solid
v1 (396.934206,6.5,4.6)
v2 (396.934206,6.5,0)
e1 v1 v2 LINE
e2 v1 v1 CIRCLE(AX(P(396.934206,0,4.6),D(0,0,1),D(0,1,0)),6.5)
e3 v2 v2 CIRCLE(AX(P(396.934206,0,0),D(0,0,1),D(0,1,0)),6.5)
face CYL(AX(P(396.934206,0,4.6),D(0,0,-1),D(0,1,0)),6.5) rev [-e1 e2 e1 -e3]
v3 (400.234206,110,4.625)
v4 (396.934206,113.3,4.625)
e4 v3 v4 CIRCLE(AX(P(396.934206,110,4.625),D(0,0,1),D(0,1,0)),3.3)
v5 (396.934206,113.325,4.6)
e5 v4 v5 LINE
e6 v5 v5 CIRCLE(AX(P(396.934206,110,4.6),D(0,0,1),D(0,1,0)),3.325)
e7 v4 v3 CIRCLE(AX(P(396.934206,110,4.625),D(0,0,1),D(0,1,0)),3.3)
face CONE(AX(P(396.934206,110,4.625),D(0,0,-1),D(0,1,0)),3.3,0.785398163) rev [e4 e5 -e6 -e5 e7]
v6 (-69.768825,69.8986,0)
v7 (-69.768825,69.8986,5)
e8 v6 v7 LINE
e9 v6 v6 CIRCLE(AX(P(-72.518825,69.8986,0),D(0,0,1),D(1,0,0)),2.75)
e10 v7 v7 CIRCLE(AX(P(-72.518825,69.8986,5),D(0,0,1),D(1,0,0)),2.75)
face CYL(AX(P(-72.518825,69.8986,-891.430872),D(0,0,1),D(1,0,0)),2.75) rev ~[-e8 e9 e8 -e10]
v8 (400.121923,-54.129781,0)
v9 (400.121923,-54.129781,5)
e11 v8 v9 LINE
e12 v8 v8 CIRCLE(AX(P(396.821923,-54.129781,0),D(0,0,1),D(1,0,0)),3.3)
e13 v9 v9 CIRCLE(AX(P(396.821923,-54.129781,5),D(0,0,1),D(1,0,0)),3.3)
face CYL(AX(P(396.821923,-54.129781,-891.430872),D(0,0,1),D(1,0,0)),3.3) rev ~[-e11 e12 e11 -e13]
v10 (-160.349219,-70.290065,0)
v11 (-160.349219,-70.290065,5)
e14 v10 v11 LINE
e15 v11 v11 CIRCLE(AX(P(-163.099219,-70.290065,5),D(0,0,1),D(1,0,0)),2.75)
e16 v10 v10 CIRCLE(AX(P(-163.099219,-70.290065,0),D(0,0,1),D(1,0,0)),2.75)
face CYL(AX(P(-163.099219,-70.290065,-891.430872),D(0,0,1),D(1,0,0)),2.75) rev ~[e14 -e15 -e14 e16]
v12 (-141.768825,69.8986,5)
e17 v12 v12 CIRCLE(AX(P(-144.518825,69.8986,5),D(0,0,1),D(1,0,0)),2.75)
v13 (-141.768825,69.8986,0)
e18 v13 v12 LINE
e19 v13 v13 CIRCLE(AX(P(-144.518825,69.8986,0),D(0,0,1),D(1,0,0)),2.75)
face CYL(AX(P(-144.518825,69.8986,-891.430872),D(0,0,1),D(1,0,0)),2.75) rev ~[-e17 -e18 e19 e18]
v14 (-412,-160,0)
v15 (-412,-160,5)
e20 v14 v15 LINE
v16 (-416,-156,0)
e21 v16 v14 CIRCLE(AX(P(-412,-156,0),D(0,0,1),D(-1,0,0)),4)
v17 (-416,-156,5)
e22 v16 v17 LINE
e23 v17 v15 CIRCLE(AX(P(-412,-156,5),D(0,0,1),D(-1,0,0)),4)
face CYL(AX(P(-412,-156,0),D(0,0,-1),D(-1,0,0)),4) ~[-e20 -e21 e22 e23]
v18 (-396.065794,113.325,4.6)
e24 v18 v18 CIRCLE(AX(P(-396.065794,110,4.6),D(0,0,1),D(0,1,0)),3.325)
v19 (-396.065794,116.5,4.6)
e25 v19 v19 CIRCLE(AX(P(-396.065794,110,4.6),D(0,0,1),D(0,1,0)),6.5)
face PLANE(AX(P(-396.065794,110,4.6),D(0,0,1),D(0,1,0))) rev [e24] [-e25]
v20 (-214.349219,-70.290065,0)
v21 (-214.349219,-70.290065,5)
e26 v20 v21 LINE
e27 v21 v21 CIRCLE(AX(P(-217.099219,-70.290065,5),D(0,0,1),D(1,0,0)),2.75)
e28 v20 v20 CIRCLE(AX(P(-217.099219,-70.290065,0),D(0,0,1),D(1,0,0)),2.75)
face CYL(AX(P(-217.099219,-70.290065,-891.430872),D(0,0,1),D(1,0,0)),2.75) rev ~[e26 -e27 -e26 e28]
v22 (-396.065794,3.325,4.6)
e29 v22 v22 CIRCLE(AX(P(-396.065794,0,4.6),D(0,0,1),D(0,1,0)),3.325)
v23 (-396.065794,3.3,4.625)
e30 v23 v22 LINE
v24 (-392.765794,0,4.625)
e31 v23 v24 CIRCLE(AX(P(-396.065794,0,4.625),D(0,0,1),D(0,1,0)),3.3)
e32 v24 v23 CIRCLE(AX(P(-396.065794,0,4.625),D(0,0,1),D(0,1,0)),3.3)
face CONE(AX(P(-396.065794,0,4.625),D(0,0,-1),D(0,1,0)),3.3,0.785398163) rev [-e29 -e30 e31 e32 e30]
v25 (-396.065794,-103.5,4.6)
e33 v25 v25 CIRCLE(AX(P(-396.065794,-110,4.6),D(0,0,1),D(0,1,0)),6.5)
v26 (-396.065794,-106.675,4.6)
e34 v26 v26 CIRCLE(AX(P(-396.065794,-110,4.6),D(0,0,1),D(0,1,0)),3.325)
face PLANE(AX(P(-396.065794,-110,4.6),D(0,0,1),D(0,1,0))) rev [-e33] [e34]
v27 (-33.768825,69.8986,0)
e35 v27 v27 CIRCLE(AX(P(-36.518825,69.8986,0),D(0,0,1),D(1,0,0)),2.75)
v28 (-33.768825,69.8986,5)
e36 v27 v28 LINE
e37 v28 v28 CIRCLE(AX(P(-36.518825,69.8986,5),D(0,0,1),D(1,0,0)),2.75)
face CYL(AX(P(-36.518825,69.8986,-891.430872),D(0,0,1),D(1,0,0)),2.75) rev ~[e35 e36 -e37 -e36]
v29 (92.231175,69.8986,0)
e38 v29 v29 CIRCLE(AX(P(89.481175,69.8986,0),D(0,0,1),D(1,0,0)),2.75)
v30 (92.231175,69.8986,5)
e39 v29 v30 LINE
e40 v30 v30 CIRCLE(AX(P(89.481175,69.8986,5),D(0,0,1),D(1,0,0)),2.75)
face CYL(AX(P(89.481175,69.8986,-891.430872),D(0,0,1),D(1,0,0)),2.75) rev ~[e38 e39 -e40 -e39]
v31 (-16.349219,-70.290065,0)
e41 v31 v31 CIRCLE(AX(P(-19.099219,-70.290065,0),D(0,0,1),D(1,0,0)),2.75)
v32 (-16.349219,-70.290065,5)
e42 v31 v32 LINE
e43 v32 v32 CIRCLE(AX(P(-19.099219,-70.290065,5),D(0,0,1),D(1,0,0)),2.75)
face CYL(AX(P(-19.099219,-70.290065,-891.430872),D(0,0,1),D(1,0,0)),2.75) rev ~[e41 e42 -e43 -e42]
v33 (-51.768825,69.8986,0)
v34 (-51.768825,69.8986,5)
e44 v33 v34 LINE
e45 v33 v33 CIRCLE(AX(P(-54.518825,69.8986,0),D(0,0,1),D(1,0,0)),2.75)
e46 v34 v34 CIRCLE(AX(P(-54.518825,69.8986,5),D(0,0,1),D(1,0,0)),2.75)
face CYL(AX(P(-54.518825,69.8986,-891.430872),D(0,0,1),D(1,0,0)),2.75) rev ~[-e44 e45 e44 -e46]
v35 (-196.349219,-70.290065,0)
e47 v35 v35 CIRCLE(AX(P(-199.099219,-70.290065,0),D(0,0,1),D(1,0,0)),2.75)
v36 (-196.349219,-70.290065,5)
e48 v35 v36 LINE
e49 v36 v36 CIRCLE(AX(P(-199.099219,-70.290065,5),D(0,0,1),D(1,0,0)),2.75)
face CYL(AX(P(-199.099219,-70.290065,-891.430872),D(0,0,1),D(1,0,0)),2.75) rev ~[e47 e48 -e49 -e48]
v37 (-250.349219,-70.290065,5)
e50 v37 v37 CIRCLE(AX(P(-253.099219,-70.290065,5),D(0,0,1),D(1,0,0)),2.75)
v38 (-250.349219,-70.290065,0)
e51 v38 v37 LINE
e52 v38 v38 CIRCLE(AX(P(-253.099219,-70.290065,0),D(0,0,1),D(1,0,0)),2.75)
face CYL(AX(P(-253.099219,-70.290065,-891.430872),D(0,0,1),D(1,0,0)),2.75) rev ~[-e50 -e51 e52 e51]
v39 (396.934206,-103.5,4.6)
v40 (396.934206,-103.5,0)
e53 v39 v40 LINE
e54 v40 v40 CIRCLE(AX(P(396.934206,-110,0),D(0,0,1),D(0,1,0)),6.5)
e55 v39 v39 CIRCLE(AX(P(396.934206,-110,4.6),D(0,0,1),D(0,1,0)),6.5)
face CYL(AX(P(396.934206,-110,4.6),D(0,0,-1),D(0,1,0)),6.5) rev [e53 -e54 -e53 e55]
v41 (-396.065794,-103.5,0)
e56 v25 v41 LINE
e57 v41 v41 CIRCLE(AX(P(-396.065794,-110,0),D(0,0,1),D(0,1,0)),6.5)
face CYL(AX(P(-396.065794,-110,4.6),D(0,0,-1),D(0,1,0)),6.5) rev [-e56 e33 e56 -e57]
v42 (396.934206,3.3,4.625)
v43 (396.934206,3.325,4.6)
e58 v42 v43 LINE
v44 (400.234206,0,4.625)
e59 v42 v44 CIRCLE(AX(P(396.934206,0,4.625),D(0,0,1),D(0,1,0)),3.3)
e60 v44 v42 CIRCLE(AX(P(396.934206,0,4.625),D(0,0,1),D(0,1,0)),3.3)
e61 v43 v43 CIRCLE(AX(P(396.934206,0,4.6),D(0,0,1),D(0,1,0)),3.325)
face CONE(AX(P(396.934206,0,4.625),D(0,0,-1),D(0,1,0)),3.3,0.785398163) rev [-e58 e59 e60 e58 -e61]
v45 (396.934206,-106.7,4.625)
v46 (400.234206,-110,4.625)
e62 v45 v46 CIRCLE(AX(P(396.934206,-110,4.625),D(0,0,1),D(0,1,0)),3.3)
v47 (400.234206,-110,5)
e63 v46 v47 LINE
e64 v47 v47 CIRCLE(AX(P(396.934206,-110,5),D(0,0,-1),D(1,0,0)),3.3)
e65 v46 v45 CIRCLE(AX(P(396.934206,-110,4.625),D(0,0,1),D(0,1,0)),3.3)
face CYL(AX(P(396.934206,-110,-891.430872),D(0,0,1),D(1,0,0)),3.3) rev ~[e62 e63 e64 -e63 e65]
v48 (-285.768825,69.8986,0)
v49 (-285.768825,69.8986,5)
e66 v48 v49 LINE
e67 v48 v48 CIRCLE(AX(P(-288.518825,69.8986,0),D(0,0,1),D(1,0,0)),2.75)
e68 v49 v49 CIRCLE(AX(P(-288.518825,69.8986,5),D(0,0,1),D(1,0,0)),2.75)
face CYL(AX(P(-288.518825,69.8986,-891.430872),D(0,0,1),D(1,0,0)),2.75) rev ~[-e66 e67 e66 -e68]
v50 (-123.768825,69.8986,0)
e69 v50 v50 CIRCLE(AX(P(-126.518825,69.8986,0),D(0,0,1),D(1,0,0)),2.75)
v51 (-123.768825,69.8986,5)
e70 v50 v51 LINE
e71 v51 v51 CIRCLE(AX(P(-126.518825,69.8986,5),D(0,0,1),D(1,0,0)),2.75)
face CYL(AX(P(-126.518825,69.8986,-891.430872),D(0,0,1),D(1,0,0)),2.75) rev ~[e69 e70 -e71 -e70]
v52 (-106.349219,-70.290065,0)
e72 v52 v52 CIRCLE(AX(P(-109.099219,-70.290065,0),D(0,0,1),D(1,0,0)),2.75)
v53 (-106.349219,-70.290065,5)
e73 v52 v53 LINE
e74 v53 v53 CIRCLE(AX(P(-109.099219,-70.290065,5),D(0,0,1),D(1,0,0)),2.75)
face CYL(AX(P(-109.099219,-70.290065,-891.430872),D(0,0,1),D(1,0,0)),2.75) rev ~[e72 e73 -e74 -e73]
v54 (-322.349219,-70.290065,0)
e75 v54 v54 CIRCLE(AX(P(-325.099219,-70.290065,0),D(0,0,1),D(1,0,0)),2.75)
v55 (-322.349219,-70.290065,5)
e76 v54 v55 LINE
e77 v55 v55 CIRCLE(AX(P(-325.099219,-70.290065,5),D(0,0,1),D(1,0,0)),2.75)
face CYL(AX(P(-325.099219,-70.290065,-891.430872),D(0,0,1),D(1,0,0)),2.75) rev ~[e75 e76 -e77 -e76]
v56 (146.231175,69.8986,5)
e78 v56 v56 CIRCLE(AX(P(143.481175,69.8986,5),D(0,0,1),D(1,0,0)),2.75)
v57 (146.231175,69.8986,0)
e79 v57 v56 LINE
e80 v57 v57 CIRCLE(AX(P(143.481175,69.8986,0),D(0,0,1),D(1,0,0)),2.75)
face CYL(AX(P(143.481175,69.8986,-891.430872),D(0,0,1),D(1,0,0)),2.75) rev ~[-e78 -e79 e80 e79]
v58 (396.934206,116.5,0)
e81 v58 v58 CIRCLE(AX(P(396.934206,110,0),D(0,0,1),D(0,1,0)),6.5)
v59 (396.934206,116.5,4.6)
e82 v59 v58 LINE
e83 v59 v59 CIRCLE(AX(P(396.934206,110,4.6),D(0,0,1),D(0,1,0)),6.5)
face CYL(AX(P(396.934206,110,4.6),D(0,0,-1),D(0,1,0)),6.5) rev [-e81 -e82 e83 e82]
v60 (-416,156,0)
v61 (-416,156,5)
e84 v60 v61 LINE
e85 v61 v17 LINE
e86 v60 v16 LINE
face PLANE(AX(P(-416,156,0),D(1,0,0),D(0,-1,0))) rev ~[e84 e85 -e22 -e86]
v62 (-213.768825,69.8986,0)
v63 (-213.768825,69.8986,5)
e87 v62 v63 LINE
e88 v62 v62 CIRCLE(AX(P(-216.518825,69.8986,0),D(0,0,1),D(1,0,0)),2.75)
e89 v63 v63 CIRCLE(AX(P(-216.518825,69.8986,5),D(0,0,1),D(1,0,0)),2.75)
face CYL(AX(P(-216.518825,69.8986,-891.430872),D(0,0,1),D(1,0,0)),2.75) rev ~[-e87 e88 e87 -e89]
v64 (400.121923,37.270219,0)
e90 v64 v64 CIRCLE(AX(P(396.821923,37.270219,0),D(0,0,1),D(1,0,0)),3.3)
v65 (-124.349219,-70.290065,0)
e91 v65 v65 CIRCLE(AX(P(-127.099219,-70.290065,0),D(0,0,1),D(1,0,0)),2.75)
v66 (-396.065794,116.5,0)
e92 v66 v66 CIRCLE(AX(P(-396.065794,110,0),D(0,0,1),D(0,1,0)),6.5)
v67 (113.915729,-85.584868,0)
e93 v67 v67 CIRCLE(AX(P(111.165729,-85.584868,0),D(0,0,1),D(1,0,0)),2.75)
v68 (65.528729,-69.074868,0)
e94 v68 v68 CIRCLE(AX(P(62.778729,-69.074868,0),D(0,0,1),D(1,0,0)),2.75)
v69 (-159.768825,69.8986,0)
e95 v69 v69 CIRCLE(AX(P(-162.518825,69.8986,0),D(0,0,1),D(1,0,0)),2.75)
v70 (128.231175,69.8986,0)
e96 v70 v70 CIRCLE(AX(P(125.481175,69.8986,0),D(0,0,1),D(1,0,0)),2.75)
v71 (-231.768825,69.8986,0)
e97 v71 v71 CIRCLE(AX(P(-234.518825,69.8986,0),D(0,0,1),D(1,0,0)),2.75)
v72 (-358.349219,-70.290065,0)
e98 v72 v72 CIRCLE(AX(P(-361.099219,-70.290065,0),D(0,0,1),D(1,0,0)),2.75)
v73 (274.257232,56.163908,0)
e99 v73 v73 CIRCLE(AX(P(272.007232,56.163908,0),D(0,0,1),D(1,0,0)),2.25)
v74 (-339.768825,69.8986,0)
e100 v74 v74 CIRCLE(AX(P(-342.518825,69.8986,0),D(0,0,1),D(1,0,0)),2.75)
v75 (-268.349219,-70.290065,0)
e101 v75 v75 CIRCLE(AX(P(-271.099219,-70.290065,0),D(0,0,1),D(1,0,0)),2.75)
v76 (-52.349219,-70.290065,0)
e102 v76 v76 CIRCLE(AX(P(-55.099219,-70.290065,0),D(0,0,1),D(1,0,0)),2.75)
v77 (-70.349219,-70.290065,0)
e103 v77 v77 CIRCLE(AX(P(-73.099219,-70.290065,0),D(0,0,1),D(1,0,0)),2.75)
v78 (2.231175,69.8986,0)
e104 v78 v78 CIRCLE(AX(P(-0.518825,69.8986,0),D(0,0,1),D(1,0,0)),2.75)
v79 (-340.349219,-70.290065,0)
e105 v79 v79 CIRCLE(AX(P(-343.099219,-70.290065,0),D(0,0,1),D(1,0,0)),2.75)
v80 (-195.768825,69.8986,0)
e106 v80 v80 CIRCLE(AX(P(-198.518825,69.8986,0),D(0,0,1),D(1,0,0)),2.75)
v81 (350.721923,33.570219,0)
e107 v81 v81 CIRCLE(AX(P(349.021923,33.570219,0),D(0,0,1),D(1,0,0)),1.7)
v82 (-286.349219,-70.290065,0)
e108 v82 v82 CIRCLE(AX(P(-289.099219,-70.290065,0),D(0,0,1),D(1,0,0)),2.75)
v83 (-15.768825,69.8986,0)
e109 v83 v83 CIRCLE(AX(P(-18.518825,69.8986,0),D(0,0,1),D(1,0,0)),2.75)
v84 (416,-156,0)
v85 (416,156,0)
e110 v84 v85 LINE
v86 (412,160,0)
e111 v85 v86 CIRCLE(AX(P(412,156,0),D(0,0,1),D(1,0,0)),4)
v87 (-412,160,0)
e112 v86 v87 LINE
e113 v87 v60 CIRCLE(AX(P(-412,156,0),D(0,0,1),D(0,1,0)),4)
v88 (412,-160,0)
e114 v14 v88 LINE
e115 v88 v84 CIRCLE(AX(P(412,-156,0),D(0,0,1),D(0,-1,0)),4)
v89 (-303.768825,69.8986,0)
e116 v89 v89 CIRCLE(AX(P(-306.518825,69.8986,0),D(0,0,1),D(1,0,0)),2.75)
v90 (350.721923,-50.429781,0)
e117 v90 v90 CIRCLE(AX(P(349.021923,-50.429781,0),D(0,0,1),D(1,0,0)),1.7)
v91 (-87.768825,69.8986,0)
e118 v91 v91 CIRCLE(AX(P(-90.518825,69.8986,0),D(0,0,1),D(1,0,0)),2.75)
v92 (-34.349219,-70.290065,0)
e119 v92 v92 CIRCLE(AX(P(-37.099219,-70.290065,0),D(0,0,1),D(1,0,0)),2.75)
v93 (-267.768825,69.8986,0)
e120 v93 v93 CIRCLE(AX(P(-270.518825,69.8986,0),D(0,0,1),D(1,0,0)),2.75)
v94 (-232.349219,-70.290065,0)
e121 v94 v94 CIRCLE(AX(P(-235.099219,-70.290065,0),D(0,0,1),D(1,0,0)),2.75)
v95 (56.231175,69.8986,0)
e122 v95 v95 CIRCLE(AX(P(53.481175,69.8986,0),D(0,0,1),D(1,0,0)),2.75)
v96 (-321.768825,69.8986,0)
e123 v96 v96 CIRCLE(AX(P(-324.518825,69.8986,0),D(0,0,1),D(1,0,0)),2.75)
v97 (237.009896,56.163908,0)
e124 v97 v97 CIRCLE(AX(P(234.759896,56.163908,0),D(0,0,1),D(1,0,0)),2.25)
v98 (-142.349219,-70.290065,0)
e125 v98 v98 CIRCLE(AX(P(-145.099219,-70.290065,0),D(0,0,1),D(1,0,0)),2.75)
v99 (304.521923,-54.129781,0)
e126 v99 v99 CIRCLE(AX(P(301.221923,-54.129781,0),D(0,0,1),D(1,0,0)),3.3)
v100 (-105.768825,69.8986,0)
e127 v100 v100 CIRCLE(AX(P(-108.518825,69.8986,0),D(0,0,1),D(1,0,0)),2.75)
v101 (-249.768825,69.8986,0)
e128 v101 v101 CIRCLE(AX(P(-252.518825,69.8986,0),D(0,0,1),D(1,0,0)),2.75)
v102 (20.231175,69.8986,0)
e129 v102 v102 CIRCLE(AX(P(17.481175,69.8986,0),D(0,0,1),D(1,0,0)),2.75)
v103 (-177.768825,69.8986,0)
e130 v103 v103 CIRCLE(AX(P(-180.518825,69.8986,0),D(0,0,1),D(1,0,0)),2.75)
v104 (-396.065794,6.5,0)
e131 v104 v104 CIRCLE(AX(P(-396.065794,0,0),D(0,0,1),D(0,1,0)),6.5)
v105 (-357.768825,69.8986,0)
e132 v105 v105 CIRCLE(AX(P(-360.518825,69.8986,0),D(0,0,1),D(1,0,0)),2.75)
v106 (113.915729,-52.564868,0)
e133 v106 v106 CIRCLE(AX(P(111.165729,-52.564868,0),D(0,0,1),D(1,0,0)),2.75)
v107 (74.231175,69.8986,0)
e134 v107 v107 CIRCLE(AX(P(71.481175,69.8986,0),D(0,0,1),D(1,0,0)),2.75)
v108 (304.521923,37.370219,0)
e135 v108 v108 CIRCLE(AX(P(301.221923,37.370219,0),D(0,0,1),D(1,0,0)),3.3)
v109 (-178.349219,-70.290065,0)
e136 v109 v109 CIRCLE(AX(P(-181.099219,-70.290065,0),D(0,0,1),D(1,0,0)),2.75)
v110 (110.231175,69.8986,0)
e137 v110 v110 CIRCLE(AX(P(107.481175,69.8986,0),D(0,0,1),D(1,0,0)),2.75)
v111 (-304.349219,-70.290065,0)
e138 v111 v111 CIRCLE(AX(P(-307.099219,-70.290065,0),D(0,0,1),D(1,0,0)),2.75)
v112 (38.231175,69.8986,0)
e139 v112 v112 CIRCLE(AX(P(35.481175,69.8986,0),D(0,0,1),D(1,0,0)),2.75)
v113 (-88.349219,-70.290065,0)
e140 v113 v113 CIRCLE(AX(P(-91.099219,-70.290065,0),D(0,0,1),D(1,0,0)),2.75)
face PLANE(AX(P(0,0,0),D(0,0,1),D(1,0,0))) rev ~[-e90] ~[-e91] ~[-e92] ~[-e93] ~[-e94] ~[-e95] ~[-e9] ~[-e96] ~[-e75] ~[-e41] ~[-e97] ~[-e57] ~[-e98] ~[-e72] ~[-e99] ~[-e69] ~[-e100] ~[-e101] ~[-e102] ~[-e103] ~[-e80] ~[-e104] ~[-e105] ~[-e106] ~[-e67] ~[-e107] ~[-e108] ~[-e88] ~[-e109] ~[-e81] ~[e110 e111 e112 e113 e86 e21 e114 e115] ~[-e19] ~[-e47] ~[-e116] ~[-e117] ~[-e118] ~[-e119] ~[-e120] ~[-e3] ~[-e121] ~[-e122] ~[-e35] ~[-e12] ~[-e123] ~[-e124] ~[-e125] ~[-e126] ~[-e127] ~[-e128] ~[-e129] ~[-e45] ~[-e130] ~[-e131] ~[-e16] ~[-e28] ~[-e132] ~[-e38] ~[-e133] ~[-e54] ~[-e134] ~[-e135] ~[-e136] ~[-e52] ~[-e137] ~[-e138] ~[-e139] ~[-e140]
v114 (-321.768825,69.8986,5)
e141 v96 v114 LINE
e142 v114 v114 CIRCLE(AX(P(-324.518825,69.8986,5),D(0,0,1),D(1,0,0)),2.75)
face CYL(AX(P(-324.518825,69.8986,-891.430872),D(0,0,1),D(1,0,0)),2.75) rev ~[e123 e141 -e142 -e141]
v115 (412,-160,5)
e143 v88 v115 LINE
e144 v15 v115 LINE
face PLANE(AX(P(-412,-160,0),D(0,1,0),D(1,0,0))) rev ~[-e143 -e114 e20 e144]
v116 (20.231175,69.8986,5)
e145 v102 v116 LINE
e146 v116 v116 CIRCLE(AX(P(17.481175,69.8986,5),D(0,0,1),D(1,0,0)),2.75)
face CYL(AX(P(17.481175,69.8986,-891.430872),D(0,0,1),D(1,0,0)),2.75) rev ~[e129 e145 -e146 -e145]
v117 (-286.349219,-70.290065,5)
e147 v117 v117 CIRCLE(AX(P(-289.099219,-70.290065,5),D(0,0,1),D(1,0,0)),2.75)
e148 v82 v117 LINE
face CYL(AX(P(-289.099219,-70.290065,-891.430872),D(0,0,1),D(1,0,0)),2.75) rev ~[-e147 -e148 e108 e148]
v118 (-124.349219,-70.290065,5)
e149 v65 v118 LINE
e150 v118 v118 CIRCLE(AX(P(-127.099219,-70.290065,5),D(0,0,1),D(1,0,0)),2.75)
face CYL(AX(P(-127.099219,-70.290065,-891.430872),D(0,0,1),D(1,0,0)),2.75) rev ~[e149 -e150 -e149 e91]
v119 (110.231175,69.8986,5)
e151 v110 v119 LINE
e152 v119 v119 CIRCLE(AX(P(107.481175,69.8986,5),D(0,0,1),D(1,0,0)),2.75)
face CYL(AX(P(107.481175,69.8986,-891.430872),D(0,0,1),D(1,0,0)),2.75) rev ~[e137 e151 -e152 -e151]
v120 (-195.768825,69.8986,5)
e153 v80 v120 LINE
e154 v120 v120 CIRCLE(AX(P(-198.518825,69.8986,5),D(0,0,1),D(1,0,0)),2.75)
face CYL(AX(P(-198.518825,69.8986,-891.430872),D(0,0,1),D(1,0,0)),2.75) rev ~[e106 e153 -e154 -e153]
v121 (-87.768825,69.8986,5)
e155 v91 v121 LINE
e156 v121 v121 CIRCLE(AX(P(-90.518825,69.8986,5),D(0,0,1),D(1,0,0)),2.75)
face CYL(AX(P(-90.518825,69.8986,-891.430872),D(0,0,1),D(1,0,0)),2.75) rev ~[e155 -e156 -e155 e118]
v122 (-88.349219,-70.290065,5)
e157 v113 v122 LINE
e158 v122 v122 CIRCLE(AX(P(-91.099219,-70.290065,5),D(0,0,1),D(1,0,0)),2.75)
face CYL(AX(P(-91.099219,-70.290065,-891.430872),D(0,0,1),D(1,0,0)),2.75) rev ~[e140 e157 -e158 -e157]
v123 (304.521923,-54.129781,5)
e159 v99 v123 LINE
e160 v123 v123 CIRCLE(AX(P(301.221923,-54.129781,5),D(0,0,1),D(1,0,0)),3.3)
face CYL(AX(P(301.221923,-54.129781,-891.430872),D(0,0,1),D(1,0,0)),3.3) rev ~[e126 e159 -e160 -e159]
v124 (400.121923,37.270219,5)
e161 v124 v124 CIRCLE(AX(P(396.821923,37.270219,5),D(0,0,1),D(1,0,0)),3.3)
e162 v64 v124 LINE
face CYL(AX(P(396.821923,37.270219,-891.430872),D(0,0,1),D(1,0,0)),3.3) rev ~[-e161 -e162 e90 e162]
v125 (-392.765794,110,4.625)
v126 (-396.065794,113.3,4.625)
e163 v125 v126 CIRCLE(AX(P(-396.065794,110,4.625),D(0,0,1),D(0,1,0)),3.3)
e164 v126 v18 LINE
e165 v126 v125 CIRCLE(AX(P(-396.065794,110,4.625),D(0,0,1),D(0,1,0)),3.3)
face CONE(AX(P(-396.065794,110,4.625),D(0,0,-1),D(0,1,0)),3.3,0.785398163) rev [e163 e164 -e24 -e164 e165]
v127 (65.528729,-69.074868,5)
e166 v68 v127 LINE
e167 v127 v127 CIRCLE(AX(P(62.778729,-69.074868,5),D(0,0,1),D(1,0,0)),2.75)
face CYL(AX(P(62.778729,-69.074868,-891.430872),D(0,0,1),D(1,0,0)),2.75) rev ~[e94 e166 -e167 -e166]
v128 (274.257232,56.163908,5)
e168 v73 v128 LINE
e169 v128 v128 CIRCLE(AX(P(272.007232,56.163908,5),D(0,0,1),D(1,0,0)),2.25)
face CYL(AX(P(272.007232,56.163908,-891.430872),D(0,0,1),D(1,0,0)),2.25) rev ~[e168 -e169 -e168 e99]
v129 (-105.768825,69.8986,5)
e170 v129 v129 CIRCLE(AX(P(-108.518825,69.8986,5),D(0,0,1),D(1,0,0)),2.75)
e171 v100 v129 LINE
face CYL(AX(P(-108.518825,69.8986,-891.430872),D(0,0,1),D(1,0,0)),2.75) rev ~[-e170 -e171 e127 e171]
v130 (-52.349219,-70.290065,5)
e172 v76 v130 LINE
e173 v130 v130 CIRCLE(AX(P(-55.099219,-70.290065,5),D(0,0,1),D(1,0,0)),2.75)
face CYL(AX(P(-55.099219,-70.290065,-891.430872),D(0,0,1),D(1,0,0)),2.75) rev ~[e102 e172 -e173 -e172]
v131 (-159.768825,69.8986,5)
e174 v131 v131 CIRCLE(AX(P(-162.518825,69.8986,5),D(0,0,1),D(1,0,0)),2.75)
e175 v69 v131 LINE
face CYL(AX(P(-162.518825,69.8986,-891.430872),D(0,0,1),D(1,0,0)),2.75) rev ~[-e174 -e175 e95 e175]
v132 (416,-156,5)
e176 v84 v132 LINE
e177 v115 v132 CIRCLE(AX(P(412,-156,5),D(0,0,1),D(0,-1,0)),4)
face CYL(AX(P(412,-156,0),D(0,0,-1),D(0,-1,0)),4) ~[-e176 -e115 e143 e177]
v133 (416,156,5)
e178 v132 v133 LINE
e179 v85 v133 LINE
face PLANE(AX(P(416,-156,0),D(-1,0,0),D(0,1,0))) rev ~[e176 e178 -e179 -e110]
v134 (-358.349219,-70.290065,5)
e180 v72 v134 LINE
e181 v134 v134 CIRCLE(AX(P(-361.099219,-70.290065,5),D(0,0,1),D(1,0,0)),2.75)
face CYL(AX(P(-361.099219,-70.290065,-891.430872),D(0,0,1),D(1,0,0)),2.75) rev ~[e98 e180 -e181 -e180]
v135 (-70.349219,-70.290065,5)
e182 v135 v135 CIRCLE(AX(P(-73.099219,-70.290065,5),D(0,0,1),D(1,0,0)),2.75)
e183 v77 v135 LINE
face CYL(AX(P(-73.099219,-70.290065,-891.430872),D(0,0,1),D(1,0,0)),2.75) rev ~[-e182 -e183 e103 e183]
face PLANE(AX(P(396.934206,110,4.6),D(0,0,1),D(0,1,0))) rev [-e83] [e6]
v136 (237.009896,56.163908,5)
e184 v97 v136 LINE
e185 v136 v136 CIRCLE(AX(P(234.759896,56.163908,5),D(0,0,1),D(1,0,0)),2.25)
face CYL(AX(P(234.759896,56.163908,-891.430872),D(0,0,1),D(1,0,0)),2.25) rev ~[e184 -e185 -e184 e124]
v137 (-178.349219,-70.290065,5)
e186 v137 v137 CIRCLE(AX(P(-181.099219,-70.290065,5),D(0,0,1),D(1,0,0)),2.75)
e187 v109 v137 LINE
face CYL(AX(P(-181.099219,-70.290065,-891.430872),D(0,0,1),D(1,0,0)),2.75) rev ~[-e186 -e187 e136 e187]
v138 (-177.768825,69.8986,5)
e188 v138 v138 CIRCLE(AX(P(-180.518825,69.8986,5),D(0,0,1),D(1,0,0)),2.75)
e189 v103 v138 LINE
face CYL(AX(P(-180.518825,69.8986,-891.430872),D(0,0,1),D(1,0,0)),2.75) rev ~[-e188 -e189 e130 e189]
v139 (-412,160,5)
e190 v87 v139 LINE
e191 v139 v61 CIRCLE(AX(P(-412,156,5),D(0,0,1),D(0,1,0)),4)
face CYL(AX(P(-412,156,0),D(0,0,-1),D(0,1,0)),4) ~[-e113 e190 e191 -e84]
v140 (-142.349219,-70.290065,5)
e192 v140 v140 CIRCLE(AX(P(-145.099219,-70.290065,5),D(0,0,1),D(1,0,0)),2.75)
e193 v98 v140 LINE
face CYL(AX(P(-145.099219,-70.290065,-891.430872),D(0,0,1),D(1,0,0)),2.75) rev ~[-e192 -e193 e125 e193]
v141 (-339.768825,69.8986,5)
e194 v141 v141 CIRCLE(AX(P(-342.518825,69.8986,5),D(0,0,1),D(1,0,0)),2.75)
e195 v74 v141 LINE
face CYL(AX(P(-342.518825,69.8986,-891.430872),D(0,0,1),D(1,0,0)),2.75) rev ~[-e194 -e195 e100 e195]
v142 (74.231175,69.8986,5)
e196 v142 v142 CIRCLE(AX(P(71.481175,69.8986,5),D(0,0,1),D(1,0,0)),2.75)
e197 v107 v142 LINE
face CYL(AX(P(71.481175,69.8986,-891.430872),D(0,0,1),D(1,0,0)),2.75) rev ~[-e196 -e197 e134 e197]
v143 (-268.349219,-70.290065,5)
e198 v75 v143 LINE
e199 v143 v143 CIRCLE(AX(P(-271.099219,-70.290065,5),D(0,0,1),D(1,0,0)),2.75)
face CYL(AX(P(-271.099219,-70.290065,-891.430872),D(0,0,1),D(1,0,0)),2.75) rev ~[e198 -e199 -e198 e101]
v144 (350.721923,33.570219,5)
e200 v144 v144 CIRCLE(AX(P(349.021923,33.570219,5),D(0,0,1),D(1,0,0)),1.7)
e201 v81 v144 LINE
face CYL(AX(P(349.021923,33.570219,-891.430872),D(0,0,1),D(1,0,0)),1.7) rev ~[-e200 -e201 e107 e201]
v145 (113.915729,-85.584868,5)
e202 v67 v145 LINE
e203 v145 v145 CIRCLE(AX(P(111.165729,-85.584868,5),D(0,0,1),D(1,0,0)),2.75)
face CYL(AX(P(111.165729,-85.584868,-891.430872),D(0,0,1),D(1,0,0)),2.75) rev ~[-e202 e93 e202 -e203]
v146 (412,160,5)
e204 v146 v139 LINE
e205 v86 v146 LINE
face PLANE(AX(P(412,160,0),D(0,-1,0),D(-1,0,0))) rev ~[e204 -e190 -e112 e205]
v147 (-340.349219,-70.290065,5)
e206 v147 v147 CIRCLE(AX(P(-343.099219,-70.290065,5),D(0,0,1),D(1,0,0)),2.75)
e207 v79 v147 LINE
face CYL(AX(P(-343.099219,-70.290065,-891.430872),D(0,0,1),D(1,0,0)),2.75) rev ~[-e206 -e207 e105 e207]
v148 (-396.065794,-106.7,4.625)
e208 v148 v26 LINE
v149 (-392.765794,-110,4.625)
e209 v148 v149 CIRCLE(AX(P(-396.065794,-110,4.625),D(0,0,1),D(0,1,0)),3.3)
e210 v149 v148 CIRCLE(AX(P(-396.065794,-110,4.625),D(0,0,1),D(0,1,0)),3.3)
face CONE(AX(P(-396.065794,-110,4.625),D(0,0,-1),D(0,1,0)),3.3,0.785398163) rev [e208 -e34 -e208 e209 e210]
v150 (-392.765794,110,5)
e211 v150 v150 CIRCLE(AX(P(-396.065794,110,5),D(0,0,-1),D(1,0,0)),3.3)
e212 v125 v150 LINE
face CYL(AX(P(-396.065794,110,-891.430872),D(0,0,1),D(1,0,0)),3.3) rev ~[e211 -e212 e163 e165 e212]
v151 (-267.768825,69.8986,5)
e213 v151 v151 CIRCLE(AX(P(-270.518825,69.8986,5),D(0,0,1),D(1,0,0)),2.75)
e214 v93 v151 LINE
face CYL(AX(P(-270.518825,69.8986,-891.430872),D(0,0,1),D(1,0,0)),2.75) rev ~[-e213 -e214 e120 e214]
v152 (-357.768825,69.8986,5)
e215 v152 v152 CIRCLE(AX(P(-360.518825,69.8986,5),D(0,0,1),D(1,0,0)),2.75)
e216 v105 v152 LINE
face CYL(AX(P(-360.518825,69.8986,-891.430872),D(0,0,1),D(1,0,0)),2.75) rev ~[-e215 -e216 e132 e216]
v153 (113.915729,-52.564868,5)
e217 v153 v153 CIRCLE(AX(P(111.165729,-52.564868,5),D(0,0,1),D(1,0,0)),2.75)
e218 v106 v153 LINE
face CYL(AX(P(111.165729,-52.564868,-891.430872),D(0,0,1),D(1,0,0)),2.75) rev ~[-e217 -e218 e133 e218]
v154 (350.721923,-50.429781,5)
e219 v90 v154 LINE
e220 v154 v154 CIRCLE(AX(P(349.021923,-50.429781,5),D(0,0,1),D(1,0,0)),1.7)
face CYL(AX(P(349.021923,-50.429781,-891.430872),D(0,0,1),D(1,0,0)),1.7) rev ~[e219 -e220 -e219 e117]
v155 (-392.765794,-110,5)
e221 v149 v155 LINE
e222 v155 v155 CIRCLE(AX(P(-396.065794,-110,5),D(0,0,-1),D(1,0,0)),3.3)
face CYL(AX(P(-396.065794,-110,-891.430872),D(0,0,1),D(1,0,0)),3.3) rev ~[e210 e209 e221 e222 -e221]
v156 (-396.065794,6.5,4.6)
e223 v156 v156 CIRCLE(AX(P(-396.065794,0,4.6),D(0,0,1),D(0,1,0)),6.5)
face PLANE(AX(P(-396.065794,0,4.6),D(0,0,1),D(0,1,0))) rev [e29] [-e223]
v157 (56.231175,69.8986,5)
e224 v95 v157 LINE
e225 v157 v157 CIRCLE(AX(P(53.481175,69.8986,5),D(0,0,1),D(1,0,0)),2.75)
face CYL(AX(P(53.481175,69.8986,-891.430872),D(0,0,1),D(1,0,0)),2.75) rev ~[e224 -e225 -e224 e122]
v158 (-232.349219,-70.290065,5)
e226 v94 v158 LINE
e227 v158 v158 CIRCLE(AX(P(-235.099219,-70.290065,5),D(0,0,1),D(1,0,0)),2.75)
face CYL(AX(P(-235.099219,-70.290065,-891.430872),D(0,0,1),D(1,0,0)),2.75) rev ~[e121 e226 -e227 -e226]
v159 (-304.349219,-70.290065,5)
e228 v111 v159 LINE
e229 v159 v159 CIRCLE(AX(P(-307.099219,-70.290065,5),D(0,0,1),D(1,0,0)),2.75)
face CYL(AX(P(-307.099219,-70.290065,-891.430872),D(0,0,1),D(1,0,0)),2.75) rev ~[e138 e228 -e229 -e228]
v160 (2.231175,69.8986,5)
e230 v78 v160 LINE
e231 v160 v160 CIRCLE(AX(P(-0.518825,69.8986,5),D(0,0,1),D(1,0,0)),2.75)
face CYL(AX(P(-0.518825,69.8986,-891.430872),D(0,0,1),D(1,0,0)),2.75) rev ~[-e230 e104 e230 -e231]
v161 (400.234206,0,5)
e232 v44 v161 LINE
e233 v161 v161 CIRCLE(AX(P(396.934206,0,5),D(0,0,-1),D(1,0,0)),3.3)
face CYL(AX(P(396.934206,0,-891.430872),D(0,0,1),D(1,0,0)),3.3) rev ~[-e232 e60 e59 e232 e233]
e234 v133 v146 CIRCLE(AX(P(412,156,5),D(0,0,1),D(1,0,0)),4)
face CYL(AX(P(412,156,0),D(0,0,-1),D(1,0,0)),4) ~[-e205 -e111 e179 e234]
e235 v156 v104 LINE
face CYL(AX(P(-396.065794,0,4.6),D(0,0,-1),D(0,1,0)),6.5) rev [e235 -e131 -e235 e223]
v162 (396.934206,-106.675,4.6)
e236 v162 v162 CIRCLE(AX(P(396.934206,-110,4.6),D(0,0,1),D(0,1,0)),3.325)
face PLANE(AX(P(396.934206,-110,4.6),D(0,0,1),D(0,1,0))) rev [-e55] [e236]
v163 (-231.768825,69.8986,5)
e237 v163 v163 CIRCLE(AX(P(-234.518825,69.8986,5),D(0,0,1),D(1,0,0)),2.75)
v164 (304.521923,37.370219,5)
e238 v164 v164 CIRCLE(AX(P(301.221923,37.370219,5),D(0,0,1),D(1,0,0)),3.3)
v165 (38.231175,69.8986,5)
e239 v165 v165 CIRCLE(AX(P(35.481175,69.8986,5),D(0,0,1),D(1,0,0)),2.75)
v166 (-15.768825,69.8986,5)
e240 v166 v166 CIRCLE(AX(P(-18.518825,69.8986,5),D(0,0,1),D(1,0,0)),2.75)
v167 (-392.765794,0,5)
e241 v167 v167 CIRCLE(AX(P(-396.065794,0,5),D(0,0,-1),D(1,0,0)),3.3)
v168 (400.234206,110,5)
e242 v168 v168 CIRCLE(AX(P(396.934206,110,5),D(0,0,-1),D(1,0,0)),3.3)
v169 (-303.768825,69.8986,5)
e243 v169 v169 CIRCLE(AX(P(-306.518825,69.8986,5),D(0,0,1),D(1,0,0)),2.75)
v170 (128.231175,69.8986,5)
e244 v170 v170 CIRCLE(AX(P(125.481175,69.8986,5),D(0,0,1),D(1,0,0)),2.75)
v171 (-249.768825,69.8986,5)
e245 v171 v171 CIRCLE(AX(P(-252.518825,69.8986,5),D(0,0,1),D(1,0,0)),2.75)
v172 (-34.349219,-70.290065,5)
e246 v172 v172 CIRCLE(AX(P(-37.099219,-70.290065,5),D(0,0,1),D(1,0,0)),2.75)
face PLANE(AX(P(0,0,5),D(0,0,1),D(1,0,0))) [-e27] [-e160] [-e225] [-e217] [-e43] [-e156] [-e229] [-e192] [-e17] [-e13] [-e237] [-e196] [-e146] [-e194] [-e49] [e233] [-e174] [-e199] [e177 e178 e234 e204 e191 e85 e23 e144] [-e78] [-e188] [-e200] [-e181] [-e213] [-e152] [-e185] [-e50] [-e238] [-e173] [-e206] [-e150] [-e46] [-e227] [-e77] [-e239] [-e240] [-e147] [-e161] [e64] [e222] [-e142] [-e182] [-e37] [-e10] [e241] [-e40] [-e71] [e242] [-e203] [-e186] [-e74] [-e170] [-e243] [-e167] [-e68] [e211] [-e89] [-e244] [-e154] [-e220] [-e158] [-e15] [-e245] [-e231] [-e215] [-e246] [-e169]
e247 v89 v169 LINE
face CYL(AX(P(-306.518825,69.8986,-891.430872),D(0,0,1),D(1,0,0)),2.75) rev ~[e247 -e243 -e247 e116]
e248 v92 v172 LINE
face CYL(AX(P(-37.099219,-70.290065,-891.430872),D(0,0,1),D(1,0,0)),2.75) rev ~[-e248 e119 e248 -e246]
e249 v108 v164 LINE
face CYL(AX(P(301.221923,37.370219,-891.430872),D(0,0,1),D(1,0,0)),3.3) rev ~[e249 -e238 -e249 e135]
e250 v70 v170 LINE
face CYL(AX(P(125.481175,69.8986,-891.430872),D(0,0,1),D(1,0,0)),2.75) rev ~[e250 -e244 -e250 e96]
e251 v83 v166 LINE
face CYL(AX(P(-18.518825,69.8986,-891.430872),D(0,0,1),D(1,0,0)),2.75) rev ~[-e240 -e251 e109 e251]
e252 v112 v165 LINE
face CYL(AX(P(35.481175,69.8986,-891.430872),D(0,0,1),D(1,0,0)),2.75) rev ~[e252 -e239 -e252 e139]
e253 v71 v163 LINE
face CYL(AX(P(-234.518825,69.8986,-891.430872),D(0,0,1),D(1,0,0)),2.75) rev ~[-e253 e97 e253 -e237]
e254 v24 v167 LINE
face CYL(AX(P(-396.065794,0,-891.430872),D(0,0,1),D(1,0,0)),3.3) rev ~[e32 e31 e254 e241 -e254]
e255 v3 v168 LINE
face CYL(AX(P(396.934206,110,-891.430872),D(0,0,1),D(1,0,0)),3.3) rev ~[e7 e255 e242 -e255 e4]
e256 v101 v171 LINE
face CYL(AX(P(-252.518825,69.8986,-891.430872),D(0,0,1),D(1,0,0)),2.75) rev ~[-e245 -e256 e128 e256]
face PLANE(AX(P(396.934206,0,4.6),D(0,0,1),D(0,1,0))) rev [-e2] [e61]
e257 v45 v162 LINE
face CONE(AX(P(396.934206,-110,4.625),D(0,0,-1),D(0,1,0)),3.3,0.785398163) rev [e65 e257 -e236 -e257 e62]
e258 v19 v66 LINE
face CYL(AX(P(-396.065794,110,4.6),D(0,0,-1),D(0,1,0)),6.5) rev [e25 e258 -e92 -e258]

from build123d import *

# Parameters (mm, degrees)
BOSS_EXTRUDE1_DEPTH                           = 5
M6_CLEARANCE_HOLE1_D                          = 6.6
LPATTERN1_COUNT                               = 2
LPATTERN1_PITCH                               = 793
CBORE_FOR_M6_PAN_HEAD_MACHINE_SCREW1_AT_COUNT = 2
CBORE_FOR_M6_PAN_HEAD_MACHINE_SCREW1_AT_PITCH = 110
CBORE_FOR_M6_PAN_HEAD_MACHINE_SCREW1_2_COUNT  = 2
CBORE_FOR_M6_PAN_HEAD_MACHINE_SCREW1_2_PITCH  = 220
CBORE_FOR_M6_PAN_HEAD_MACHINE_SCREW1_3_COUNT  = 2
CBORE_FOR_M6_PAN_HEAD_MACHINE_SCREW1_3_PITCH  = 793
CBORE_FOR_M6_PAN_HEAD_MACHINE_SCREW1_4_COUNT  = 2
CBORE_FOR_M6_PAN_HEAD_MACHINE_SCREW1_4_PITCH  = 800.59290529
CBORE_FOR_M6_PAN_HEAD_MACHINE_SCREW1_5_COUNT  = 2
CBORE_FOR_M6_PAN_HEAD_MACHINE_SCREW1_5_PITCH  = 822.951395892
M5_CLEARANCE_HOLE1_D                          = 5.5
LPATTERN2_COUNT                               = 20
LPATTERN2_PITCH                               = 18
M5_CLEARANCE_HOLE2_D                          = 5.5
LPATTERN3_COUNT                               = 29
LPATTERN3_PITCH                               = 18
M5_CLEARANCE_HOLE3_D                          = 5.5
M3_CLEARANCE_HOLE1_D                          = 3.4
M6_CLEARANCE_HOLE2_D                          = 6.6
M4_CLEARANCE_HOLE1_D                          = 4.5


with BuildPart() as part:
    # Sketch1 → Boss-Extrude1 (new body)
    with BuildSketch(Plane.XY):
        with BuildLine():
            Line((-412, -160), (412, -160))
            ThreePointArc((412, -160), (414.828427125, -158.828427125), (416, -156))
            Line((416, -156), (416, 156))
            ThreePointArc((416, 156), (414.828427125, 158.828427125), (412, 160))
            Line((412, 160), (-412, 160))
            ThreePointArc((-412, 160), (-414.828427125, 158.828427125), (-416, 156))
            Line((-416, 156), (-416, -156))
            ThreePointArc((-416, -156), (-414.828427125, -158.828427125), (-412, -160))
        make_face()
    extrude(amount=BOSS_EXTRUDE1_DEPTH)

    # M6 Clearance Hole1 (through all)
    with Locations(Plane(origin=(0, 0, 0), x_dir=(-1, 0, 0), z_dir=(0, 0, -1))):
        with Locations((-396.934205612, 110), (-396.934205612, 0), (-396.934205612, -110)):
            m6_clearance_hole1 = Hole(M6_CLEARANCE_HOLE1_D / 2)

    # LPattern1: M6 Clearance Hole1 ×2
    with Locations(*[(-i * LPATTERN1_PITCH, 0, 0) for i in range(1, LPATTERN1_COUNT)]):
        add(m6_clearance_hole1, mode=Mode.SUBTRACT)

    # Sketch4 → CBORE for M6 Pan Head Machine Screw1 (revolve, cut)
    with BuildSketch(Plane(origin=(-396.065794388, 110, 0), x_dir=(0, 1, 0), z_dir=(1, 0, 0))):
        Polygon((0, 0), (0, 5), (3.3, 5), (3.3, 4.625), (3.325, 4.6), (6.5, 4.6), (6.5, 0), align=None)
    cbore_for_m6_pan_head_machine_screw1 = revolve(axis=Axis((-396.065794388, 110, -6.35), (0, 0, 1)), mode=Mode.SUBTRACT)

    # CBORE for M6 Pan Head Machine Screw1 at: CBORE for M6 Pan Head Machine Screw1 ×2
    with Locations(*[(0, -i * CBORE_FOR_M6_PAN_HEAD_MACHINE_SCREW1_AT_PITCH, 0) for i in range(1, CBORE_FOR_M6_PAN_HEAD_MACHINE_SCREW1_AT_COUNT)]):
        add(cbore_for_m6_pan_head_machine_screw1, mode=Mode.SUBTRACT)

    # CBORE for M6 Pan Head Machine Screw1 2: CBORE for M6 Pan Head Machine Screw1 ×2
    with Locations(*[(0, -i * CBORE_FOR_M6_PAN_HEAD_MACHINE_SCREW1_2_PITCH, 0) for i in range(1, CBORE_FOR_M6_PAN_HEAD_MACHINE_SCREW1_2_COUNT)]):
        add(cbore_for_m6_pan_head_machine_screw1, mode=Mode.SUBTRACT)

    # CBORE for M6 Pan Head Machine Screw1 3: CBORE for M6 Pan Head Machine Screw1 ×2
    with Locations(*[(i * CBORE_FOR_M6_PAN_HEAD_MACHINE_SCREW1_3_PITCH, 0, 0) for i in range(1, CBORE_FOR_M6_PAN_HEAD_MACHINE_SCREW1_3_COUNT)]):
        add(cbore_for_m6_pan_head_machine_screw1, mode=Mode.SUBTRACT)

    # CBORE for M6 Pan Head Machine Screw1 4: CBORE for M6 Pan Head Machine Screw1 ×2
    with Locations(*[Vector(0.9905158973563135, -0.13739816987288084, 0) * (i * CBORE_FOR_M6_PAN_HEAD_MACHINE_SCREW1_4_PITCH) for i in range(1, CBORE_FOR_M6_PAN_HEAD_MACHINE_SCREW1_4_COUNT)]):
        add(cbore_for_m6_pan_head_machine_screw1, mode=Mode.SUBTRACT)

    # CBORE for M6 Pan Head Machine Screw1 5: CBORE for M6 Pan Head Machine Screw1 ×2
    with Locations(*[Vector(0.9636049029855653, -0.2673304901094885, 0) * (i * CBORE_FOR_M6_PAN_HEAD_MACHINE_SCREW1_5_PITCH) for i in range(1, CBORE_FOR_M6_PAN_HEAD_MACHINE_SCREW1_5_COUNT)]):
        add(cbore_for_m6_pan_head_machine_screw1, mode=Mode.SUBTRACT)

    # M5 Clearance Hole1 (through all)
    with Locations(Plane(origin=(0, 0, 0), x_dir=(-1, 0, 0), z_dir=(0, 0, -1))):
        with Locations((361.09921851, -70.290064712)):
            m5_clearance_hole1 = Hole(M5_CLEARANCE_HOLE1_D / 2)

    # LPattern2: M5 Clearance Hole1 ×20
    with Locations(*[(i * LPATTERN2_PITCH, 0, 0) for i in range(1, LPATTERN2_COUNT)]):
        add(m5_clearance_hole1, mode=Mode.SUBTRACT)

    # M5 Clearance Hole2 (through all)
    with Locations(Plane(origin=(0, 0, 0), x_dir=(-1, 0, 0), z_dir=(0, 0, -1))):
        with Locations((360.518824805, 69.898600249)):
            m5_clearance_hole2 = Hole(M5_CLEARANCE_HOLE2_D / 2)

    # LPattern3: M5 Clearance Hole2 ×29
    with Locations(*[(i * LPATTERN3_PITCH, 0, 0) for i in range(1, LPATTERN3_COUNT)]):
        add(m5_clearance_hole2, mode=Mode.SUBTRACT)

    # M5 Clearance Hole3 (through all)
    with Locations(Plane(origin=(0, 0, 0), x_dir=(-1, 0, 0), z_dir=(0, 0, -1))):
        with Locations((-111.165728877, -85.584868424), (-111.165728877, -52.564868424), (-62.778728877, -69.074868424)):
            Hole(M5_CLEARANCE_HOLE3_D / 2)

    # M3 Clearance Hole1 (through all)
    with Locations(Plane(origin=(0, 0, 0), x_dir=(-1, 0, 0), z_dir=(0, 0, -1))):
        with Locations((-349.021922587, -50.429781186), (-349.021922587, 33.570218814)):
            Hole(M3_CLEARANCE_HOLE1_D / 2)

    # M6 Clearance Hole2 (through all)
    with Locations(Plane(origin=(0, 0, 0), x_dir=(-1, 0, 0), z_dir=(0, 0, -1))):
        with Locations((-301.221922587, -54.129781186), (-301.221922587, 37.370218814), (-396.821922587, 37.270218814), (-396.821922587, -54.129781186)):
            Hole(M6_CLEARANCE_HOLE2_D / 2)

    # M4 Clearance Hole1 (through all)
    with Locations(Plane(origin=(0, 0, 0), x_dir=(-1, 0, 0), z_dir=(0, 0, -1))):
        with Locations((-234.759896157, 56.163908026), (-272.007232298, 56.163908026)):
            Hole(M4_CLEARANCE_HOLE1_D / 2)


solid = part.part
